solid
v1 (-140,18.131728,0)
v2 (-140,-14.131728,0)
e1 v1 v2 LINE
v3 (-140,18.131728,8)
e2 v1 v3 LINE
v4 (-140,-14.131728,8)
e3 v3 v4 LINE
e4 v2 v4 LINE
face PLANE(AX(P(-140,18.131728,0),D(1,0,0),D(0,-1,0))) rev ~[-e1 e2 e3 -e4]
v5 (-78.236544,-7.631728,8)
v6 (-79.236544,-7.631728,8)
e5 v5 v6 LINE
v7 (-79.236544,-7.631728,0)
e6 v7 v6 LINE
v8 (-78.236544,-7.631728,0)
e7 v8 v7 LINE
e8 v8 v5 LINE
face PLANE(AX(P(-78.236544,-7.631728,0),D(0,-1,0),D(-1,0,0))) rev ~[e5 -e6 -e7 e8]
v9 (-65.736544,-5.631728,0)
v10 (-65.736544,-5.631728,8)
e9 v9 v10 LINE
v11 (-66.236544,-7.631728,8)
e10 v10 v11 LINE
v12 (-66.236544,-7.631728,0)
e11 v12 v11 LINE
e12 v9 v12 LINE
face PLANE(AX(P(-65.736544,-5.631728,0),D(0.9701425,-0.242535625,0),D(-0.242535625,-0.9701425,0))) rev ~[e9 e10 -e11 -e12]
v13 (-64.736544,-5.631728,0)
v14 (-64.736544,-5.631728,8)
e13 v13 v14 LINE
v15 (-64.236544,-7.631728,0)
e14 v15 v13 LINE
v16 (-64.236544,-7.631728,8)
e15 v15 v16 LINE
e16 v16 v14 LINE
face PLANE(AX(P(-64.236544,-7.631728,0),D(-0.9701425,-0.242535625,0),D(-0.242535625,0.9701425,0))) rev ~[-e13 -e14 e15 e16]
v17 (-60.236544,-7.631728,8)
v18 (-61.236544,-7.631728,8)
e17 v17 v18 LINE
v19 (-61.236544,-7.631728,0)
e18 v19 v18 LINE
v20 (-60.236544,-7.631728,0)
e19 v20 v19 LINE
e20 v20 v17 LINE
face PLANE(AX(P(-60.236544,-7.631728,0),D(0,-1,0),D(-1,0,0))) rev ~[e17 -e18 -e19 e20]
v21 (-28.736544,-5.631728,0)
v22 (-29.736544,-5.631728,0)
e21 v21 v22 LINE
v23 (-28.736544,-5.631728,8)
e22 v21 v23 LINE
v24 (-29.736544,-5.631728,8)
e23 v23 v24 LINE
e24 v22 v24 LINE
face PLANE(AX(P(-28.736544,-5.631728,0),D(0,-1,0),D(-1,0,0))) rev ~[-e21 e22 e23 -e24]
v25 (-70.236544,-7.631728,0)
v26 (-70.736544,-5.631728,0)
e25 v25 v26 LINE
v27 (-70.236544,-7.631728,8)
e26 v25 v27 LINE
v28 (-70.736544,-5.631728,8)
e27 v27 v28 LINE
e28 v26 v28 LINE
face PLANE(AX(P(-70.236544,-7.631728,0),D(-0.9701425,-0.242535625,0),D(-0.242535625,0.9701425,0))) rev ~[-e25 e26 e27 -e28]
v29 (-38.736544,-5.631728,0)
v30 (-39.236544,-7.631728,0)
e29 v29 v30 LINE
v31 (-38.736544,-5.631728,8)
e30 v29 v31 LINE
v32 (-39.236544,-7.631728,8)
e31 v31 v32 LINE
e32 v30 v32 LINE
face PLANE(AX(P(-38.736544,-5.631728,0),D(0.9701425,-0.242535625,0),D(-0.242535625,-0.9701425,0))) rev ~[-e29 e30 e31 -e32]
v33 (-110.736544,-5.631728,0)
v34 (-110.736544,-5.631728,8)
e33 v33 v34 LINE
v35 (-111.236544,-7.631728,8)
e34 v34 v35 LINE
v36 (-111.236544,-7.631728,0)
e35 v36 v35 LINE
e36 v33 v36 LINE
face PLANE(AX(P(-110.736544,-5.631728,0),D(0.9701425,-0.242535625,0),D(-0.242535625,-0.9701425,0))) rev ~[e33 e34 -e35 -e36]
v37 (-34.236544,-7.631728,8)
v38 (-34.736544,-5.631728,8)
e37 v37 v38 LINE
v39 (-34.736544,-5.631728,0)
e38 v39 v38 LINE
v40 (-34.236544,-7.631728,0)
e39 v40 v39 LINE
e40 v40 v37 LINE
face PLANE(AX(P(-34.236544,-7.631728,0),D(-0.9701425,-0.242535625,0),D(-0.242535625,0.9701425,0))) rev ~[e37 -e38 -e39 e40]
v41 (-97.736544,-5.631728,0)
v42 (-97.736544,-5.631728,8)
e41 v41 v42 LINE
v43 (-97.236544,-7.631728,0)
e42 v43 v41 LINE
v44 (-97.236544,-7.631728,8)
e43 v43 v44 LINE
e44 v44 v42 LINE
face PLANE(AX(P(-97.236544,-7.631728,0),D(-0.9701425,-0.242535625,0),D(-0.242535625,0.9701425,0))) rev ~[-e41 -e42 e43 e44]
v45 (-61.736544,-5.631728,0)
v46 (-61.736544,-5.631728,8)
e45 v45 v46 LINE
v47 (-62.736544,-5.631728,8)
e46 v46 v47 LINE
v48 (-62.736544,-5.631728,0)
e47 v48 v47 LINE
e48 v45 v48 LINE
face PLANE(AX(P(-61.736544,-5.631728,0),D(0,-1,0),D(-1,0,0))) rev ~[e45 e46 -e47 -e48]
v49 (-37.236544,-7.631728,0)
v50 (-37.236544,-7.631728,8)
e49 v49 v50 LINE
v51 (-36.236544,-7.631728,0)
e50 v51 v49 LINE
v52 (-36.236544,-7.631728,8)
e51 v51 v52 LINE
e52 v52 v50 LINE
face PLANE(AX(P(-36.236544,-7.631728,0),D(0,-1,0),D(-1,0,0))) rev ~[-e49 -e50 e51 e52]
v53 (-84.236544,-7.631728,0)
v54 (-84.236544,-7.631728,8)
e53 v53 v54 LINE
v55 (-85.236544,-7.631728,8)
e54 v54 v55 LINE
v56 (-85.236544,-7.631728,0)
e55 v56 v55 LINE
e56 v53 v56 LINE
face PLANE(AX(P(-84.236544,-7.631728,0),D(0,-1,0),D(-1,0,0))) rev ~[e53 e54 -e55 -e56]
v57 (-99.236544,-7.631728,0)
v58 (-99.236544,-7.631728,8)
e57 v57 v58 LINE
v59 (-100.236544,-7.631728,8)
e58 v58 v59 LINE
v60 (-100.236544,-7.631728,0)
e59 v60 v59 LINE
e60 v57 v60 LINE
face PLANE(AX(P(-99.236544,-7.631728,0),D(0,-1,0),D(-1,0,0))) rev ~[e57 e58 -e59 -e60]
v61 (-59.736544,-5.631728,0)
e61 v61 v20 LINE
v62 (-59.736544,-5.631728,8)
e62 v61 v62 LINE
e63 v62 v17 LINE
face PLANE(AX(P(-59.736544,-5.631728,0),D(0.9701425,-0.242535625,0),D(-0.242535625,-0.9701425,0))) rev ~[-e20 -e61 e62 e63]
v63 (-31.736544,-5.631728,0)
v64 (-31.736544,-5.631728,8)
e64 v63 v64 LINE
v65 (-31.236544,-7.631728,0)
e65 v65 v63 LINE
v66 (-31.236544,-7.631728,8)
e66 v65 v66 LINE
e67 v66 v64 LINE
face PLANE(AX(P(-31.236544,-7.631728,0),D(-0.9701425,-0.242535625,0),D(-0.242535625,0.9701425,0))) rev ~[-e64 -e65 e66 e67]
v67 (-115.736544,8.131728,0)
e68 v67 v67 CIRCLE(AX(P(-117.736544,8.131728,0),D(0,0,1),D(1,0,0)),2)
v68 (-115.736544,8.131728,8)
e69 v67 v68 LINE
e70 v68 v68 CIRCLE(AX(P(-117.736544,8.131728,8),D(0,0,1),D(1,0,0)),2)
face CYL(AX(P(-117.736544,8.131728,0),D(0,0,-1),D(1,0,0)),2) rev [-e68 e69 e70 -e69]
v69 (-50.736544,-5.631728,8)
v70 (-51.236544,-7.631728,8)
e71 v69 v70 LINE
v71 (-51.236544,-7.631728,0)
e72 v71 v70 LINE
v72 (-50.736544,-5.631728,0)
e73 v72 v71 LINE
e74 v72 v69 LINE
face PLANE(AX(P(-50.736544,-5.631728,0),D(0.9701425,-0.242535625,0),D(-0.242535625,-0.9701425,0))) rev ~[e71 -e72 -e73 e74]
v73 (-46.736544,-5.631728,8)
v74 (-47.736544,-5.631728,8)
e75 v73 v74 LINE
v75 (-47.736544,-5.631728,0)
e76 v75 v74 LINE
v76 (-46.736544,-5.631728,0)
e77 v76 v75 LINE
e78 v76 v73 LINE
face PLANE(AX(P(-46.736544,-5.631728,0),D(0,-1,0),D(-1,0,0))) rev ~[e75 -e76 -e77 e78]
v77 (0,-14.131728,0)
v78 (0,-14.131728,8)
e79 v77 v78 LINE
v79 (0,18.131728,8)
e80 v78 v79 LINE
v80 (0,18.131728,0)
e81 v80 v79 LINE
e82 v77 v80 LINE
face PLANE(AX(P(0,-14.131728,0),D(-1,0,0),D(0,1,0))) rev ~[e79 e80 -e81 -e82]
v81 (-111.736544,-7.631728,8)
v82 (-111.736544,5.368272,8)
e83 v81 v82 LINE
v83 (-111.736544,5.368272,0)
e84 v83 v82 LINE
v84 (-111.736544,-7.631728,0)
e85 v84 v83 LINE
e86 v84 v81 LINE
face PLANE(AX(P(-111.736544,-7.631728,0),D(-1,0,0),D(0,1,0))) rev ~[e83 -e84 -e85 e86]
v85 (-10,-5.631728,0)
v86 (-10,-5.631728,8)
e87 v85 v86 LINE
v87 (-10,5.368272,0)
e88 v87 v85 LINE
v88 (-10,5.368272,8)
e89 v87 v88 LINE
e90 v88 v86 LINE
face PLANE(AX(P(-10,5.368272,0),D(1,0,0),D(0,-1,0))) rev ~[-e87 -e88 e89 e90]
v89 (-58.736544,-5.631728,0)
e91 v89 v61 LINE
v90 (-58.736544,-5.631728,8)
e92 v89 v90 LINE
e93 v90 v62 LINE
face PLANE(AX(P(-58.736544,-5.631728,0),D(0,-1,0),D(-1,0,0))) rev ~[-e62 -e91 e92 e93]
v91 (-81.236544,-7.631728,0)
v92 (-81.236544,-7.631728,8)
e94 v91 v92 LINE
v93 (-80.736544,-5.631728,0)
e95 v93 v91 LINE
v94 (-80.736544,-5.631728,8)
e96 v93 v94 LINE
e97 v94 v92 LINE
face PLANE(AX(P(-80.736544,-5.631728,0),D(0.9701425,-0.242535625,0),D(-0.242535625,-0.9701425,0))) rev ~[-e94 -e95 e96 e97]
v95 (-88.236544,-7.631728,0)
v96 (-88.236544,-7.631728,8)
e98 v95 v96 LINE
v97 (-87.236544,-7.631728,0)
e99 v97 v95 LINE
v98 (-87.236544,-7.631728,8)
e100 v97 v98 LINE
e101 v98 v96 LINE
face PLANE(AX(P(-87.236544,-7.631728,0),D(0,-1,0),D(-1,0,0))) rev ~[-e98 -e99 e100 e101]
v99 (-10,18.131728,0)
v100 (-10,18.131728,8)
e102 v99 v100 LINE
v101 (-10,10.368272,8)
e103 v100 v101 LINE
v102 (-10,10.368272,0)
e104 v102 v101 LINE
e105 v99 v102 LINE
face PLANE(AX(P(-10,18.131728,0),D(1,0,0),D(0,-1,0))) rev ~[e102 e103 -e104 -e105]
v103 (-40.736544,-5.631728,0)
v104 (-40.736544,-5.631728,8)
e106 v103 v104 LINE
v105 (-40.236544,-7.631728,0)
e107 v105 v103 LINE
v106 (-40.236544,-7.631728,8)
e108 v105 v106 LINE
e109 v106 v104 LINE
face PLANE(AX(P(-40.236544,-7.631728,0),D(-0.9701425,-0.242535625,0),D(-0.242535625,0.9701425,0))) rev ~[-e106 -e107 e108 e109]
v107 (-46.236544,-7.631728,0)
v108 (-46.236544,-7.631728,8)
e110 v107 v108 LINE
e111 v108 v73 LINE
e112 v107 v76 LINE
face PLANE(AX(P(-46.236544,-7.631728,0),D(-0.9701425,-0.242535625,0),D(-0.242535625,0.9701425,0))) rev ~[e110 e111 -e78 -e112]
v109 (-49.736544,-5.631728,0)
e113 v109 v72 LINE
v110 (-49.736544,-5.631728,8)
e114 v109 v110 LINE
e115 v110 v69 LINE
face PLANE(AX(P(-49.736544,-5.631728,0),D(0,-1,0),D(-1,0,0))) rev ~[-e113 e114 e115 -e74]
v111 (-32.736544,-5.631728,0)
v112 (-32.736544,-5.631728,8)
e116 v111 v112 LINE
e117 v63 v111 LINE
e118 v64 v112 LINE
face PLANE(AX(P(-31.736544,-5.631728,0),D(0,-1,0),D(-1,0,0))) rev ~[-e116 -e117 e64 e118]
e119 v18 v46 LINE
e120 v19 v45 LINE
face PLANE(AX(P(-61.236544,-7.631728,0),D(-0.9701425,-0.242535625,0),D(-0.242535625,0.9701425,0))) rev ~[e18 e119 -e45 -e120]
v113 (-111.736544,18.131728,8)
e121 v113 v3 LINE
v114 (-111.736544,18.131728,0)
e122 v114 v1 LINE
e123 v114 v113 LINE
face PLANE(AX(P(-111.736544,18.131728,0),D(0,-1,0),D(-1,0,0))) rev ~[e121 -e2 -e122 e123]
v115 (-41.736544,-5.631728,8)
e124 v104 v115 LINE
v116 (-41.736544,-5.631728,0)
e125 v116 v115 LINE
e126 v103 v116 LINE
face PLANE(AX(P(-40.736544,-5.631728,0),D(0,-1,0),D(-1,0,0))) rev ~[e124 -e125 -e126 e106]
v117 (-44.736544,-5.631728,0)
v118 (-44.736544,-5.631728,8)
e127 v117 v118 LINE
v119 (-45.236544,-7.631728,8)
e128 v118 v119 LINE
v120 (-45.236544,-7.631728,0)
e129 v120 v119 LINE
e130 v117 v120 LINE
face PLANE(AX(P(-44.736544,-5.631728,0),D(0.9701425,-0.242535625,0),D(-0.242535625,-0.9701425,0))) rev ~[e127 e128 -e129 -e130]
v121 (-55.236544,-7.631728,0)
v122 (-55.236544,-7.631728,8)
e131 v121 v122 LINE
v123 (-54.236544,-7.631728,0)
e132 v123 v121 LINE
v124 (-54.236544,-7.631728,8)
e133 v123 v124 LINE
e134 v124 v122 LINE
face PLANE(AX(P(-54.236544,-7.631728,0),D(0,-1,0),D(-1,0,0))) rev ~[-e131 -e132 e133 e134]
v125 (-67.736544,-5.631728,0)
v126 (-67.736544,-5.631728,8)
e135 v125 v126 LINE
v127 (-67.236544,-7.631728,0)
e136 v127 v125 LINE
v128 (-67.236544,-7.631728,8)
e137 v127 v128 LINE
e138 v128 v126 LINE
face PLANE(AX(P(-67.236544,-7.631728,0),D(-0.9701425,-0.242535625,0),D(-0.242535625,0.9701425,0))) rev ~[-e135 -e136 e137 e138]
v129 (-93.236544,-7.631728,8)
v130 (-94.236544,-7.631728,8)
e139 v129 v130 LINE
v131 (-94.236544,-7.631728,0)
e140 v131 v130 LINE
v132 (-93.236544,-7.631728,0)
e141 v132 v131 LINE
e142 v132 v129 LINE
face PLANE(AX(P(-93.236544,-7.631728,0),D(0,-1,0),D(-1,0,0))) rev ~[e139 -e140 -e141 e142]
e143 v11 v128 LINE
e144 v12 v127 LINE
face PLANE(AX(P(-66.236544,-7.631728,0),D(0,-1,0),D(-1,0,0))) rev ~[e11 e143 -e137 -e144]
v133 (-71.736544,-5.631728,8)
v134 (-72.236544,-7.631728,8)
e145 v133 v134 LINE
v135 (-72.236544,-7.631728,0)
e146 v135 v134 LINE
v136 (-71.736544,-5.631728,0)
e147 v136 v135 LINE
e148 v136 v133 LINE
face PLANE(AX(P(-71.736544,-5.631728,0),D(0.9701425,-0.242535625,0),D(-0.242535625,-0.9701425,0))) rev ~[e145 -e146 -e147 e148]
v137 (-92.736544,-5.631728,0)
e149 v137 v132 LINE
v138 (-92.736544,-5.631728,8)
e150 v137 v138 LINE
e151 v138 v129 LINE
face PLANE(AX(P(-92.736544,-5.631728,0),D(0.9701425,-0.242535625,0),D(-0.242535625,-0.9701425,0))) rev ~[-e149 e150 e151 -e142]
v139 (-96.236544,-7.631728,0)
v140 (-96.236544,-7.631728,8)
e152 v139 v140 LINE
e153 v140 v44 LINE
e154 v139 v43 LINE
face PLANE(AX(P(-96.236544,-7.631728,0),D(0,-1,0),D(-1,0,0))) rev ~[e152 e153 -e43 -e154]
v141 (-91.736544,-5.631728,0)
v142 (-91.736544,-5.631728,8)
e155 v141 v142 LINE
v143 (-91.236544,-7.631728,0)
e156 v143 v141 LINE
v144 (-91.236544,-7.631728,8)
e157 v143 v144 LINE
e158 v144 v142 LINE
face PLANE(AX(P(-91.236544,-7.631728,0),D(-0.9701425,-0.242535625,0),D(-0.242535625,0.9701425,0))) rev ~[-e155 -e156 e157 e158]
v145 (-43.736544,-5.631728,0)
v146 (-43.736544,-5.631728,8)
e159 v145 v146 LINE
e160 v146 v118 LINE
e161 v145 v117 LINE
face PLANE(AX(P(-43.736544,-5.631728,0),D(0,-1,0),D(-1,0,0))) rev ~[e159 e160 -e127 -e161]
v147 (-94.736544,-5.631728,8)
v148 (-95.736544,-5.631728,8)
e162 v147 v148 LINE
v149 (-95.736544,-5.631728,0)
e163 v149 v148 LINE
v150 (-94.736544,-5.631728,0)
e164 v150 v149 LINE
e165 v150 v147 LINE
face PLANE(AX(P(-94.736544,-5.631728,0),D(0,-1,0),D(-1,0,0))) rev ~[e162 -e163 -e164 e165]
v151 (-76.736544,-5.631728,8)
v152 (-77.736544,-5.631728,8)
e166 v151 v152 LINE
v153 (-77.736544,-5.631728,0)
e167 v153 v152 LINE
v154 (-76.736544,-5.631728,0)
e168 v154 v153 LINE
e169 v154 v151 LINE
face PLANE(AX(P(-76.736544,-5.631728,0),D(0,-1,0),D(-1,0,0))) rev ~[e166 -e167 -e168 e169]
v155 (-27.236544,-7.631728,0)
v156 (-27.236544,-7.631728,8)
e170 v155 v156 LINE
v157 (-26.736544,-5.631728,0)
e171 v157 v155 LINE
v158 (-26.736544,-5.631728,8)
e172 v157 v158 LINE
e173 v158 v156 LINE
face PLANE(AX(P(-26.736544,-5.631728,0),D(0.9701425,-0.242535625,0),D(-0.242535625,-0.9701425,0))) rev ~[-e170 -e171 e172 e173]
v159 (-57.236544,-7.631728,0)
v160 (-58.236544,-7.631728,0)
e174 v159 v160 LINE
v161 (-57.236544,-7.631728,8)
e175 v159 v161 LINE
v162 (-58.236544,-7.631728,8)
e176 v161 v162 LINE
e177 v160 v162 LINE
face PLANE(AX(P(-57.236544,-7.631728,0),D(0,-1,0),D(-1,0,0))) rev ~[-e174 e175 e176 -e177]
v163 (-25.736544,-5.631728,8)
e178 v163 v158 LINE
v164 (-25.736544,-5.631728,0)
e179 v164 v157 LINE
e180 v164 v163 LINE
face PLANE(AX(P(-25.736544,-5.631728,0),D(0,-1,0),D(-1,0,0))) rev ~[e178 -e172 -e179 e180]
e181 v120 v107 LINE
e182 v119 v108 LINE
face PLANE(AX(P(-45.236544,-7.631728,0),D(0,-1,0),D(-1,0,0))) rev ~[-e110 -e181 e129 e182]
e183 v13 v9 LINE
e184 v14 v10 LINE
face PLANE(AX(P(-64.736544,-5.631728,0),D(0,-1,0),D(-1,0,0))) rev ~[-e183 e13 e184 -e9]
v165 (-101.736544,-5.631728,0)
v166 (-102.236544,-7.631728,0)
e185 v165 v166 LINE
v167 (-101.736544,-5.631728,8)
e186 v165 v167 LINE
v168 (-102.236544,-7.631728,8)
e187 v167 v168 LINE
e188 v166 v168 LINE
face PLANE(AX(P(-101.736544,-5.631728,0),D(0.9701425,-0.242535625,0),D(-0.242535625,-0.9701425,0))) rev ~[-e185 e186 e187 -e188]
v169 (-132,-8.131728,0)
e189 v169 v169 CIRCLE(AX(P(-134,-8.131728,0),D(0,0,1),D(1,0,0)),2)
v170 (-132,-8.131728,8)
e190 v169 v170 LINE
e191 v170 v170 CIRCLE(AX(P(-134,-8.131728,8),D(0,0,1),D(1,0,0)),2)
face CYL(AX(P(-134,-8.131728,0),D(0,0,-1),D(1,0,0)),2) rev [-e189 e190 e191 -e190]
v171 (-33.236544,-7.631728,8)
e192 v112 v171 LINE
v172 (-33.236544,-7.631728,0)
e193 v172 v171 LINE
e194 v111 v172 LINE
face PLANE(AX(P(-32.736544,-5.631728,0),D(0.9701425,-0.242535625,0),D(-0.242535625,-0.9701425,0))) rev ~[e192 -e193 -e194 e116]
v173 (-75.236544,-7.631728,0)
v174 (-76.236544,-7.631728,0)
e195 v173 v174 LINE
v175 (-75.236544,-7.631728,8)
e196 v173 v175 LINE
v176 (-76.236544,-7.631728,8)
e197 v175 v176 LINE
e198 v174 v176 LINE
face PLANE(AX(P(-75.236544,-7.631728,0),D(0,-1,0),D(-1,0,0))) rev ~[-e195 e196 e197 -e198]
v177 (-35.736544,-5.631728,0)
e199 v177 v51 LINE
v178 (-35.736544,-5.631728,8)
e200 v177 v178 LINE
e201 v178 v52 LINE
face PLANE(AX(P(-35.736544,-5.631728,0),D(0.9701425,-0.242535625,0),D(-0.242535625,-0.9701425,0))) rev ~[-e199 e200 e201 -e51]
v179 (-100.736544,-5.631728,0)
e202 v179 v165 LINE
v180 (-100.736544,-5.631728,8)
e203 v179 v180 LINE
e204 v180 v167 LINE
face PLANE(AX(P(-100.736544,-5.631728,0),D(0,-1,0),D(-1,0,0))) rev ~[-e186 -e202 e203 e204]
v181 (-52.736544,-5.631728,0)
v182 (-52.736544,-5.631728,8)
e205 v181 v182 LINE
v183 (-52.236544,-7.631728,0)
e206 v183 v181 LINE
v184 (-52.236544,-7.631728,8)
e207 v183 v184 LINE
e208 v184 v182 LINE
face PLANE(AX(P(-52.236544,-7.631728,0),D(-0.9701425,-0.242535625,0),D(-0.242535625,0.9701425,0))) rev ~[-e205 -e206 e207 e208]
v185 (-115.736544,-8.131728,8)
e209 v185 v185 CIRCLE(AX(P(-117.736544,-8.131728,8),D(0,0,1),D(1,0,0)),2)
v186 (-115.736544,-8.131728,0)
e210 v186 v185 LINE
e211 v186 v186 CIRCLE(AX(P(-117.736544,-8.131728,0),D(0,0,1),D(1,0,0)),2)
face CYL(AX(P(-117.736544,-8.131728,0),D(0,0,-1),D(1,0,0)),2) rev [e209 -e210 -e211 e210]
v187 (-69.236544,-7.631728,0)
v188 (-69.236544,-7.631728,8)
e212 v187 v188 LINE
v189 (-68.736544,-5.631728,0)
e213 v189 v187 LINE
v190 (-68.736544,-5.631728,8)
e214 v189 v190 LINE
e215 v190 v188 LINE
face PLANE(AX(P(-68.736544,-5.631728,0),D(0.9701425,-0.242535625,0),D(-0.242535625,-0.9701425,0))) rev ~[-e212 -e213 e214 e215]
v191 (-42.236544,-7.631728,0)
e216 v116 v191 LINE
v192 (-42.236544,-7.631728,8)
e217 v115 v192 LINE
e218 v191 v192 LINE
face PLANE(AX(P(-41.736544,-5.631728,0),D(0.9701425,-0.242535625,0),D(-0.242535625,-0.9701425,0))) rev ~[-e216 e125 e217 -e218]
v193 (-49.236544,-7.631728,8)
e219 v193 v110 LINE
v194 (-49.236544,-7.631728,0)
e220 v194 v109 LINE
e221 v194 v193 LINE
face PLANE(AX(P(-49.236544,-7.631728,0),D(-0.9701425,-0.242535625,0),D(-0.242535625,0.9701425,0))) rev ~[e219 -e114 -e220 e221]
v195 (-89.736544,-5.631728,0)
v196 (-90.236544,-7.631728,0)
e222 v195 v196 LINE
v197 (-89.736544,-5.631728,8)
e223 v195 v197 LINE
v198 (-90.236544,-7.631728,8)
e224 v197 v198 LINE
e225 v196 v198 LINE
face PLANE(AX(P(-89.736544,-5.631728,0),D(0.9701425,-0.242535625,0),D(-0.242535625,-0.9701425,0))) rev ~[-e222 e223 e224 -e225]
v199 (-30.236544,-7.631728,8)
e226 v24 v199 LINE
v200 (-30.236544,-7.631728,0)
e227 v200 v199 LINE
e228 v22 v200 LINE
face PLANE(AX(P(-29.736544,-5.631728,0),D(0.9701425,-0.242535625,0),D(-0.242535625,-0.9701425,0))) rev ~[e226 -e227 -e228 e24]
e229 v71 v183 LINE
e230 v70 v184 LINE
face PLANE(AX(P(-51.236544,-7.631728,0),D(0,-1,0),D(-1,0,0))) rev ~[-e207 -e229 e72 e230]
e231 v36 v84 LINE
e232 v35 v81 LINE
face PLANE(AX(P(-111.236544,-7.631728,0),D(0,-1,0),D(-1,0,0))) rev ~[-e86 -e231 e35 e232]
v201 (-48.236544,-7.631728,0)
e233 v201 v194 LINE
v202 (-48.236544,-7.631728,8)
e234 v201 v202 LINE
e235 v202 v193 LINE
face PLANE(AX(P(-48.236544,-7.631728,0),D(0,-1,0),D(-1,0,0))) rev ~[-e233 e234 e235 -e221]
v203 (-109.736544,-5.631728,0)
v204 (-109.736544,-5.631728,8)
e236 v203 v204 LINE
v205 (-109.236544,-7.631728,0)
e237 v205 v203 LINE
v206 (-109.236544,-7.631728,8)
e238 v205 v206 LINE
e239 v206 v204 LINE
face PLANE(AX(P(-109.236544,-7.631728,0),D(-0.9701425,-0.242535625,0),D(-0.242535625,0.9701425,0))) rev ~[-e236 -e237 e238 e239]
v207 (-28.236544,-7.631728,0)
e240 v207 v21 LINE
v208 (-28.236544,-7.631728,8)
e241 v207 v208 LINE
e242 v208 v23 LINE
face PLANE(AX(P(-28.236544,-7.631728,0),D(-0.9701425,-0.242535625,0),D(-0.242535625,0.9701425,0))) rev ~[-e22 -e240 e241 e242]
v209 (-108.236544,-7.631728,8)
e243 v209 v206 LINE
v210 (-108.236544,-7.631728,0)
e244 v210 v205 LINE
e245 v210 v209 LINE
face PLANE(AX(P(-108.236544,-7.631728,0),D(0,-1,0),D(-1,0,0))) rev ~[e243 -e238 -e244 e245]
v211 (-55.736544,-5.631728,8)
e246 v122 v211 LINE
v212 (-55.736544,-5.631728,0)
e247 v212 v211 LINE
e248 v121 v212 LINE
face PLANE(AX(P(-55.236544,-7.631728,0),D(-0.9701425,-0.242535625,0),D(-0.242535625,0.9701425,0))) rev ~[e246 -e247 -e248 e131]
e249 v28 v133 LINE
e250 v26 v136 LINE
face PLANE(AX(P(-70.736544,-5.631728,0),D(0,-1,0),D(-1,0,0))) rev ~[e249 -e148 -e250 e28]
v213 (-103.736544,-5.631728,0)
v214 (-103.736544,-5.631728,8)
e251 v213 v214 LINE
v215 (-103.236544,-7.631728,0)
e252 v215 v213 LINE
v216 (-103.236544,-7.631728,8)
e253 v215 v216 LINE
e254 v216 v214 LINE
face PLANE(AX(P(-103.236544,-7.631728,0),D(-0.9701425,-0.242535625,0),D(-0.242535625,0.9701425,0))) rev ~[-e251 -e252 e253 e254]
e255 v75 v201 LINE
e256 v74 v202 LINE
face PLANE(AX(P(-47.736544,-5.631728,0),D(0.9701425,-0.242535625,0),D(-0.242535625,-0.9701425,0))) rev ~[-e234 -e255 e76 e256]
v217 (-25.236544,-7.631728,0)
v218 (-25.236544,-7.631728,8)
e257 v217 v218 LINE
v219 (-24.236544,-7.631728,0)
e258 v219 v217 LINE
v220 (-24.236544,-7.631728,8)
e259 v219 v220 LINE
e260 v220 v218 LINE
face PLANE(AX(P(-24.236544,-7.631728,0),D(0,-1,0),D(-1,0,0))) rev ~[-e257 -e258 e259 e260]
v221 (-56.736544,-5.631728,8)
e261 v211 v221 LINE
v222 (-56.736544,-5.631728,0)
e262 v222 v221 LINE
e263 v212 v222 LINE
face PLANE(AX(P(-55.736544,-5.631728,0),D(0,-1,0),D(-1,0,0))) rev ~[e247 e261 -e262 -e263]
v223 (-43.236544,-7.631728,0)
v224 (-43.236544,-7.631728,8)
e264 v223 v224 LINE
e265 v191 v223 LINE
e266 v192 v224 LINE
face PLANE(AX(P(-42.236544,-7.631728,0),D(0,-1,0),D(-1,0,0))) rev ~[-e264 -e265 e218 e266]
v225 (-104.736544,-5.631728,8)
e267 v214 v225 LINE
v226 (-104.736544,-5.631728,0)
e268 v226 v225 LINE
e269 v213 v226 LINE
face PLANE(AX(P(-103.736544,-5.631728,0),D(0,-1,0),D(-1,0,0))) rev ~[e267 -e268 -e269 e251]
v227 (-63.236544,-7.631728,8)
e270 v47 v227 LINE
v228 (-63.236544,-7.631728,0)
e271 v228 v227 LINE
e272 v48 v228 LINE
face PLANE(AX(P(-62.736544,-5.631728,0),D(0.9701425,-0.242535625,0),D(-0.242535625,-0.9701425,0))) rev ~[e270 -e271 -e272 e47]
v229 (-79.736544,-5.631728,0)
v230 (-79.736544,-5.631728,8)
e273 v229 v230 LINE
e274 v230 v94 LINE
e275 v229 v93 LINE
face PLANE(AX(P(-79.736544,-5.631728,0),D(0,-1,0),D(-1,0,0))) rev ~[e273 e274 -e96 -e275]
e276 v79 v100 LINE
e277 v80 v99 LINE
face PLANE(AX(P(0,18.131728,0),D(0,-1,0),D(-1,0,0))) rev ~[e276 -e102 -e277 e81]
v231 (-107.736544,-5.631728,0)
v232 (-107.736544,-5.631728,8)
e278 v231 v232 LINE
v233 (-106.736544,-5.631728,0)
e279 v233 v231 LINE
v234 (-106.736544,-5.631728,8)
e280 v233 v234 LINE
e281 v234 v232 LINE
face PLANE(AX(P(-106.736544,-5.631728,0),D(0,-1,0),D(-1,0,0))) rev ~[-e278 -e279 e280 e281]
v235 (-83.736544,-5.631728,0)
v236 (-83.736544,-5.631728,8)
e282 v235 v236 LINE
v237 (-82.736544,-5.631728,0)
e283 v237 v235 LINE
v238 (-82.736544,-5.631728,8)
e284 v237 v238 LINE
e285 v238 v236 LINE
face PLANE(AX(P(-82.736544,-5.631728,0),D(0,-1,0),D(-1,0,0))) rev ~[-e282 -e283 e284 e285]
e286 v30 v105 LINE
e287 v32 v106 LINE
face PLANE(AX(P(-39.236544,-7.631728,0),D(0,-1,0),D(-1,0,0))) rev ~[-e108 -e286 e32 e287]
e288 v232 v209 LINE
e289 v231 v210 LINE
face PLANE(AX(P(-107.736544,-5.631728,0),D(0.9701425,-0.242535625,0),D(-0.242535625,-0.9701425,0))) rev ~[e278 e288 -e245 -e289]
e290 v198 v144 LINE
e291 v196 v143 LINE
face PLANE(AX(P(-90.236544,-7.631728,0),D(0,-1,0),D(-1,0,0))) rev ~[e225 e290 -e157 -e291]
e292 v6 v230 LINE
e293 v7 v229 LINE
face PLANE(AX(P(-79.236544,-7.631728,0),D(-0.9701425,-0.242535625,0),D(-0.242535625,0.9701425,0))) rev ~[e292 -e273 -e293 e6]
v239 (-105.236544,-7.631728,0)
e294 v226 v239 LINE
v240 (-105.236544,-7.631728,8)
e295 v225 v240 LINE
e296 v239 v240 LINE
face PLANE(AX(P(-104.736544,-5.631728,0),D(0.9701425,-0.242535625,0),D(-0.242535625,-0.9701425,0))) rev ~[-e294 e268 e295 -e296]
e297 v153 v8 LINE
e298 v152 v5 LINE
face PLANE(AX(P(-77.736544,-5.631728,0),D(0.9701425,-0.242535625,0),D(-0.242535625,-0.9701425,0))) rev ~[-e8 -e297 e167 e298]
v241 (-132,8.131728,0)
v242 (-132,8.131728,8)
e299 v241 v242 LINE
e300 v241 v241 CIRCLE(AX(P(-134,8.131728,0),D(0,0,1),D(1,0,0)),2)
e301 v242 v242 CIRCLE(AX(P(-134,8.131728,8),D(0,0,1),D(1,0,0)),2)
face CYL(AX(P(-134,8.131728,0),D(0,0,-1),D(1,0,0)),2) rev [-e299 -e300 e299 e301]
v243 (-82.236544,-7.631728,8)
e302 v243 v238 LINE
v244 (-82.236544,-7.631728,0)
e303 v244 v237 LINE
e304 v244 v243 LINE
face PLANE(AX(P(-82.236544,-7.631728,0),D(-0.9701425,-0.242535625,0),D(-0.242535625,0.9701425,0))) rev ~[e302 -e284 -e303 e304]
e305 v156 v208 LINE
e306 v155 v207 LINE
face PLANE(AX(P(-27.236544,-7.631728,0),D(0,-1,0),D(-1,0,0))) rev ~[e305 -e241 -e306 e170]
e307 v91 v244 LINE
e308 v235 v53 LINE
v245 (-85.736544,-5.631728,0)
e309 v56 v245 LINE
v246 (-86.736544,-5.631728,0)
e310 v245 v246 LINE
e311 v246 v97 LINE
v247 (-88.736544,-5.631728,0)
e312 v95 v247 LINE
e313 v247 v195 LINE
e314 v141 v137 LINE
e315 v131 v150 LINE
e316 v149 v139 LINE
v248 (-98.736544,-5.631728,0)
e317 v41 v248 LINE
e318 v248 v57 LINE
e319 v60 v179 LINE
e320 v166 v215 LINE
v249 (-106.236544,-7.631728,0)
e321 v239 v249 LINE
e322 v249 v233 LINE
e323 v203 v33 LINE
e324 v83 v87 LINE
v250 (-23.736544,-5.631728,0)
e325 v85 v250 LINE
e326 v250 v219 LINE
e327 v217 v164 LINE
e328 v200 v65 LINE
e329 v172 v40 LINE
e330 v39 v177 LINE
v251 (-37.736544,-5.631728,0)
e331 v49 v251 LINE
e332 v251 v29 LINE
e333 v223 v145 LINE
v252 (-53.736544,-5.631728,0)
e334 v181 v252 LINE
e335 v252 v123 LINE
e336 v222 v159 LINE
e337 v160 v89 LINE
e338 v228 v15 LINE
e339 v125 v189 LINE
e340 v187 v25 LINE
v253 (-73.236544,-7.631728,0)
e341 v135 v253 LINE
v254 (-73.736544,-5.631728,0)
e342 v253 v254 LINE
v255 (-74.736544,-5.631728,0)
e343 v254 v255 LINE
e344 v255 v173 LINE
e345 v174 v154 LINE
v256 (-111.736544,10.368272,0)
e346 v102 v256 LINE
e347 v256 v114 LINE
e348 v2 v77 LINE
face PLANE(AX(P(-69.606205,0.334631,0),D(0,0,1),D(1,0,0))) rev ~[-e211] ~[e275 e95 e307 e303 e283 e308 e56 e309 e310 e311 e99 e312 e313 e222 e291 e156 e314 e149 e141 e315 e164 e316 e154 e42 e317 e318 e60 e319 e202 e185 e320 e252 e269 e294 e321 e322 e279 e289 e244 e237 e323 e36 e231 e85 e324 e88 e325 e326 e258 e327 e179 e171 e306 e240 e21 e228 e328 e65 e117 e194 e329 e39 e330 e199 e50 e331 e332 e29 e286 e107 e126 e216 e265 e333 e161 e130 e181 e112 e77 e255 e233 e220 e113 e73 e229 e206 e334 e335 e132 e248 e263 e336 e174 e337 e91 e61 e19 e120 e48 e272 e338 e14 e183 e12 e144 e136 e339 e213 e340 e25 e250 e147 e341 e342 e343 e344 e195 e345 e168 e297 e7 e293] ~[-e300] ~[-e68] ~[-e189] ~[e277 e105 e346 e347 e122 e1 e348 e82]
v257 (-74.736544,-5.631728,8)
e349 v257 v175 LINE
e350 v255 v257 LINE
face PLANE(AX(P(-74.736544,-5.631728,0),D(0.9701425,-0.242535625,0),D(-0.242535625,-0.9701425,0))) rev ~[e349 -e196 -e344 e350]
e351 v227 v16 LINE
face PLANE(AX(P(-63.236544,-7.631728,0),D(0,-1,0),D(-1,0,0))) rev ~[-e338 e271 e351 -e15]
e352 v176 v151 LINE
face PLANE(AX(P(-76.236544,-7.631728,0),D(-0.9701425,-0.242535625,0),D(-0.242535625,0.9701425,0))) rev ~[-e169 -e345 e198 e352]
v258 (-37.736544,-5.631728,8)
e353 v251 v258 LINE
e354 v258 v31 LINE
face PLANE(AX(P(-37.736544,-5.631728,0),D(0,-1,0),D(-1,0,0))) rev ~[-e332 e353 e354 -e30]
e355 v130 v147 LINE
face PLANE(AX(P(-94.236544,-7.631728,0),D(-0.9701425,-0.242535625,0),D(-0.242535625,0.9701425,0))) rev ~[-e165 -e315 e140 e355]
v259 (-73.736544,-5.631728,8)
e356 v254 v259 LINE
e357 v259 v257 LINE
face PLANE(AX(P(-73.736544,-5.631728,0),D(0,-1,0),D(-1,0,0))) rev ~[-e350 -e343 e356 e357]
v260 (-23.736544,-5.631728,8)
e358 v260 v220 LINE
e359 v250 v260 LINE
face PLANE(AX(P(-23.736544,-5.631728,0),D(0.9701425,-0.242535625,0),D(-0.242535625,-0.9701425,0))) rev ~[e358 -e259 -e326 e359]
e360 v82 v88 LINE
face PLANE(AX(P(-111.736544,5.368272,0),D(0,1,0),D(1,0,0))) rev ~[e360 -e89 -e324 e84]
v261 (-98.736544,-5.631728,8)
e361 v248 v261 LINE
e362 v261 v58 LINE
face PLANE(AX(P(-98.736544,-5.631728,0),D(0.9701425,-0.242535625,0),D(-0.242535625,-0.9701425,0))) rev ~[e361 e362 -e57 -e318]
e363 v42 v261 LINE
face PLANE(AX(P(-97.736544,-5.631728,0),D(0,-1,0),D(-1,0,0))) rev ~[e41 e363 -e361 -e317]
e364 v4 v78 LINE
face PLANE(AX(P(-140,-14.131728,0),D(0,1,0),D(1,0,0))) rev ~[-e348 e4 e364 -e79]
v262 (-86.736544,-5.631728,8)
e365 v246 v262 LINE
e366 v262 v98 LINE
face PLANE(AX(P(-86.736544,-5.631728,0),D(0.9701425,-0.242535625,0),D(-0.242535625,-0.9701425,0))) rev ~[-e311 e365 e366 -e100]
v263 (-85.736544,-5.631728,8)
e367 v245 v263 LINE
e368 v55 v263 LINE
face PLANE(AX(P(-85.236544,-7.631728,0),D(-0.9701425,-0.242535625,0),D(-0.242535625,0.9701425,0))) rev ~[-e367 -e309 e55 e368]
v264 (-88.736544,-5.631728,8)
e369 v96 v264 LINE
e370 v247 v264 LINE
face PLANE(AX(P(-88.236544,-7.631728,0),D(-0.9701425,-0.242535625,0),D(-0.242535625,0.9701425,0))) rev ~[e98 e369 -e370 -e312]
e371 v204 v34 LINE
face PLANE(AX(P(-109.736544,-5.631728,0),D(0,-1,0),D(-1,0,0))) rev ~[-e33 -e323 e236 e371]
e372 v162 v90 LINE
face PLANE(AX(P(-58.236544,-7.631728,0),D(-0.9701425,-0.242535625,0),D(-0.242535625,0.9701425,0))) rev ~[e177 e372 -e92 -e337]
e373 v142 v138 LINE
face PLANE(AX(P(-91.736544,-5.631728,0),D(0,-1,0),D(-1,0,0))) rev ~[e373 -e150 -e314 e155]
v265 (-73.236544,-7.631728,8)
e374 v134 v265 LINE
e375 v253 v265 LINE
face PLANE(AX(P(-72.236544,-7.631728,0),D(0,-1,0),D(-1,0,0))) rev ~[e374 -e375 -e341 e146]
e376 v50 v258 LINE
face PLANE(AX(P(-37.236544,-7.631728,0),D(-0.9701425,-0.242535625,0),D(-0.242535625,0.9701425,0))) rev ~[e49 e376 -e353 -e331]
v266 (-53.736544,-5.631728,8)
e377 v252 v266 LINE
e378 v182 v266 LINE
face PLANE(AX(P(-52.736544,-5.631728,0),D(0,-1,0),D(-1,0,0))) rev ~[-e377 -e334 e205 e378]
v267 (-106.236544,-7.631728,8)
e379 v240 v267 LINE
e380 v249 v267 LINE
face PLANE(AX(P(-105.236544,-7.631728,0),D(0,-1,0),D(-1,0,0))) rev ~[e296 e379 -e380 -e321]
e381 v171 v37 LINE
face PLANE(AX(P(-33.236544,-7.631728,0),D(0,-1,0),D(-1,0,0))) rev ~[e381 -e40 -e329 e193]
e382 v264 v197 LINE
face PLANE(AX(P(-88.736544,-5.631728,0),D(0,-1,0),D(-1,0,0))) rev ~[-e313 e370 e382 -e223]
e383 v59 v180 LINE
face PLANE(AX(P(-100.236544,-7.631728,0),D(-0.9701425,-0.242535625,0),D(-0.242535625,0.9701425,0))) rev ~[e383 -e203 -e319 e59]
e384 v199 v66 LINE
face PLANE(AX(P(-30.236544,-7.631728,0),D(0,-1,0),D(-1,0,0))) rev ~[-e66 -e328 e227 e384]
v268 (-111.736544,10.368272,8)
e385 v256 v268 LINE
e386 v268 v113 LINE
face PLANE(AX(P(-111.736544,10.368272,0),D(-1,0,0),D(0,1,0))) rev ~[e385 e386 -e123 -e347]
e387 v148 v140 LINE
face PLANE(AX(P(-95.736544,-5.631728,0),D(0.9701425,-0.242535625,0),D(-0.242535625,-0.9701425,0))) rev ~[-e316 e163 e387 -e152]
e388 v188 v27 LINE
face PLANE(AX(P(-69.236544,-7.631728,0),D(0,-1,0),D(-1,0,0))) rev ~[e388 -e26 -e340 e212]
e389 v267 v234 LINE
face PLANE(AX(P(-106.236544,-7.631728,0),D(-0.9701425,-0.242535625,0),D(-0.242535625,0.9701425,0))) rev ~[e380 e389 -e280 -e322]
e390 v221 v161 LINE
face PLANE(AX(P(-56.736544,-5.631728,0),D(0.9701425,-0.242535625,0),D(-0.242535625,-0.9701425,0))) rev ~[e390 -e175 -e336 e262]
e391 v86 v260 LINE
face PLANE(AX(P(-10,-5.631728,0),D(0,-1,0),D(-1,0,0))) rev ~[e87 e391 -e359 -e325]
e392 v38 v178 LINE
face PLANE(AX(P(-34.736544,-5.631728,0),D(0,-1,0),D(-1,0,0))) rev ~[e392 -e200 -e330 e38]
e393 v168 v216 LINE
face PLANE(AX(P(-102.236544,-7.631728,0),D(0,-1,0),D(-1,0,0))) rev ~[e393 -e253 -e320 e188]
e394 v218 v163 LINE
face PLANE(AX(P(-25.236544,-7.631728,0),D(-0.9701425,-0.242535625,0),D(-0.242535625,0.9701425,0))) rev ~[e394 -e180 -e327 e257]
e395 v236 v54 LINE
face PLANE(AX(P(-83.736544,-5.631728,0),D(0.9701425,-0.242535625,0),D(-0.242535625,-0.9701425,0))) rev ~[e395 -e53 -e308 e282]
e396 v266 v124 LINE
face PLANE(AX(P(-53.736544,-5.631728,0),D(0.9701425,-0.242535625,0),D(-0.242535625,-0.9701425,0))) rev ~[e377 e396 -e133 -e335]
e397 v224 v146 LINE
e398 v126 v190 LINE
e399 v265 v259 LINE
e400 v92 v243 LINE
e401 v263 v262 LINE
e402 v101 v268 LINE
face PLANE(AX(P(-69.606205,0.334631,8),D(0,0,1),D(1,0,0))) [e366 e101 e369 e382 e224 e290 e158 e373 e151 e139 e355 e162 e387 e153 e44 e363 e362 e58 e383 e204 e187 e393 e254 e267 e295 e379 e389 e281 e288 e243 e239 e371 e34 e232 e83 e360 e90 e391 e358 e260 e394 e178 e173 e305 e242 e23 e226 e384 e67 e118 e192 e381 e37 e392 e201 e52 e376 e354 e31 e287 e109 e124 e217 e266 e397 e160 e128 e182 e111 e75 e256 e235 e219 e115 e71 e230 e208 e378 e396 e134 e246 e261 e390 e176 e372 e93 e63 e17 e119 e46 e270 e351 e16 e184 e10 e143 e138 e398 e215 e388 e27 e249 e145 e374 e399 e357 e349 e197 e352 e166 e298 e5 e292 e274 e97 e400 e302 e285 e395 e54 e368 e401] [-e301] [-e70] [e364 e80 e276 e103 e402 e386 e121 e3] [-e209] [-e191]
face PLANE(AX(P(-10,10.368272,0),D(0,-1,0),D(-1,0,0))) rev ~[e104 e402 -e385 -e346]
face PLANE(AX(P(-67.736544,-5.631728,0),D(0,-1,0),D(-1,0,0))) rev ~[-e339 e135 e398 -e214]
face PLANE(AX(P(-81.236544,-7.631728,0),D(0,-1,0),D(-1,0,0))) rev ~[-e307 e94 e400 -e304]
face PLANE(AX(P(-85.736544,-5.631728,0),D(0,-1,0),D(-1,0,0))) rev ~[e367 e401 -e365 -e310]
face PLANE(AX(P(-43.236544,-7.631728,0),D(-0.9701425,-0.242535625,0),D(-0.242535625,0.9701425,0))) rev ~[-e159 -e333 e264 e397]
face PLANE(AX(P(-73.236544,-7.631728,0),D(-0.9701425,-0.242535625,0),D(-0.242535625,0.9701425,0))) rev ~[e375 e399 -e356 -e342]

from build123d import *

# Parameters (mm, degrees)
SKETCH1_R           = 2
BOSS_EXTRUDE1_DEPTH = 8


with BuildPart() as part:
    # Sketch1 → Boss-Extrude1 (new body)
    with BuildSketch(Plane.XY):
        Polygon((-111.736544033, -14.131727984), (-9.968599743, -14.131727984), (0, -14.131727984), (0, 18.131727984), (-10, 18.131727984), (-10, 10.368272016), (-111.736544033, 10.368272016), (-111.736544033, 18.131727984), (-140, 18.131727984), (-140, -14.131727984), align=None)
        with Locations((-134, 8.131727984)):
            Circle(SKETCH1_R, mode=Mode.SUBTRACT)
        with Locations((-117.736544033, 8.131727984)):
            Circle(SKETCH1_R, mode=Mode.SUBTRACT)
        with Locations((-134, -8.131727984)):
            Circle(SKETCH1_R, mode=Mode.SUBTRACT)
        with Locations((-117.736544033, -8.131727984)):
            Circle(SKETCH1_R, mode=Mode.SUBTRACT)
        Polygon((-111.736544033, -7.631727984), (-111.736544033, 5.368272016), (-10, 5.368272016), (-10, -5.631727984), (-23.736544033, -5.631727984), (-24.236544033, -7.631727984), (-24.736544033, -7.631727984), (-25.236544033, -7.631727984), (-25.736544033, -5.631727984), (-26.736544033, -5.631727984), (-27.236544033, -7.631727984), (-27.736544033, -7.631727984), (-28.236544033, -7.631727984), (-28.736544033, -5.631727984), (-29.736544033, -5.631727984), (-30.236544033, -7.631727984), (-30.736544033, -7.631727984), (-31.236544033, -7.631727984), (-31.736544033, -5.631727984), (-32.736544033, -5.631727984), (-33.236544033, -7.631727984), (-33.736544033, -7.631727984), (-34.236544033, -7.631727984), (-34.736544033, -5.631727984), (-35.736544033, -5.631727984), (-36.236544033, -7.631727984), (-36.736544033, -7.631727984), (-37.236544033, -7.631727984), (-37.736544033, -5.631727984), (-38.736544033, -5.631727984), (-39.236544033, -7.631727984), (-39.736544033, -7.631727984), (-40.236544033, -7.631727984), (-40.736544033, -5.631727984), (-41.736544033, -5.631727984), (-42.236544033, -7.631727984), (-42.736544033, -7.631727984), (-43.236544033, -7.631727984), (-43.736544033, -5.631727984), (-44.736544033, -5.631727984), (-45.236544033, -7.631727984), (-45.736544033, -7.631727984), (-46.236544033, -7.631727984), (-46.736544033, -5.631727984), (-47.736544033, -5.631727984), (-48.236544033, -7.631727984), (-48.736544033, -7.631727984), (-49.236544033, -7.631727984), (-49.736544033, -5.631727984), (-50.736544033, -5.631727984), (-51.236544033, -7.631727984), (-51.736544033, -7.631727984), (-52.236544033, -7.631727984), (-52.736544033, -5.631727984), (-53.736544033, -5.631727984), (-54.236544033, -7.631727984), (-54.736544033, -7.631727984), (-55.236544033, -7.631727984), (-55.736544033, -5.631727984), (-56.736544033, -5.631727984), (-57.236544033, -7.631727984), (-57.736544033, -7.631727984), (-58.236544033, -7.631727984), (-58.736544033, -5.631727984), (-59.736544033, -5.631727984), (-60.236544033, -7.631727984), (-60.736544033, -7.631727984), (-61.236544033, -7.631727984), (-61.736544033, -5.631727984), (-62.736544033, -5.631727984), (-63.236544033, -7.631727984), (-63.736544033, -7.631727984), (-64.236544033, -7.631727984), (-64.736544033, -5.631727984), (-65.736544033, -5.631727984), (-66.236544033, -7.631727984), (-66.736544033, -7.631727984), (-67.236544033, -7.631727984), (-67.736544033, -5.631727984), (-68.736544033, -5.631727984), (-69.236544033, -7.631727984), (-69.736544033, -7.631727984), (-70.236544033, -7.631727984), (-70.736544033, -5.631727984), (-71.736544033, -5.631727984), (-72.236544033, -7.631727984), (-72.736544033, -7.631727984), (-73.236544033, -7.631727984), (-73.736544033, -5.631727984), (-74.736544033, -5.631727984), (-75.236544033, -7.631727984), (-75.736544033, -7.631727984), (-76.236544033, -7.631727984), (-76.736544033, -5.631727984), (-77.736544033, -5.631727984), (-78.236544033, -7.631727984), (-78.736544033, -7.631727984), (-79.236544033, -7.631727984), (-79.736544033, -5.631727984), (-80.736544033, -5.631727984), (-81.236544033, -7.631727984), (-81.736544033, -7.631727984), (-82.236544033, -7.631727984), (-82.736544033, -5.631727984), (-83.736544033, -5.631727984), (-84.236544033, -7.631727984), (-84.736544033, -7.631727984), (-85.236544033, -7.631727984), (-85.736544033, -5.631727984), (-86.736544033, -5.631727984), (-87.236544033, -7.631727984), (-87.736544033, -7.631727984), (-88.236544033, -7.631727984), (-88.736544033, -5.631727984), (-89.736544033, -5.631727984), (-90.236544033, -7.631727984), (-90.736544033, -7.631727984), (-91.236544033, -7.631727984), (-91.736544033, -5.631727984), (-92.736544033, -5.631727984), (-93.236544033, -7.631727984), (-93.736544033, -7.631727984), (-94.236544033, -7.631727984), (-94.736544033, -5.631727984), (-95.736544033, -5.631727984), (-96.236544033, -7.631727984), (-96.736544033, -7.631727984), (-97.236544033, -7.631727984), (-97.736544033, -5.631727984), (-98.736544033, -5.631727984), (-99.236544033, -7.631727984), (-99.736544033, -7.631727984), (-100.236544033, -7.631727984), (-100.736544033, -5.631727984), (-101.736544033, -5.631727984), (-102.236544033, -7.631727984), (-102.736544033, -7.631727984), (-103.236544033, -7.631727984), (-103.736544033, -5.631727984), (-104.736544033, -5.631727984), (-105.236544033, -7.631727984), (-105.736544033, -7.631727984), (-106.236544033, -7.631727984), (-106.736544033, -5.631727984), (-107.736544033, -5.631727984), (-108.236544033, -7.631727984), (-108.736544033, -7.631727984), (-109.236544033, -7.631727984), (-109.736544033, -5.631727984), (-110.736544033, -5.631727984), (-111.236544033, -7.631727984), align=None, mode=Mode.SUBTRACT)
    extrude(amount=BOSS_EXTRUDE1_DEPTH)


solid = part.part
